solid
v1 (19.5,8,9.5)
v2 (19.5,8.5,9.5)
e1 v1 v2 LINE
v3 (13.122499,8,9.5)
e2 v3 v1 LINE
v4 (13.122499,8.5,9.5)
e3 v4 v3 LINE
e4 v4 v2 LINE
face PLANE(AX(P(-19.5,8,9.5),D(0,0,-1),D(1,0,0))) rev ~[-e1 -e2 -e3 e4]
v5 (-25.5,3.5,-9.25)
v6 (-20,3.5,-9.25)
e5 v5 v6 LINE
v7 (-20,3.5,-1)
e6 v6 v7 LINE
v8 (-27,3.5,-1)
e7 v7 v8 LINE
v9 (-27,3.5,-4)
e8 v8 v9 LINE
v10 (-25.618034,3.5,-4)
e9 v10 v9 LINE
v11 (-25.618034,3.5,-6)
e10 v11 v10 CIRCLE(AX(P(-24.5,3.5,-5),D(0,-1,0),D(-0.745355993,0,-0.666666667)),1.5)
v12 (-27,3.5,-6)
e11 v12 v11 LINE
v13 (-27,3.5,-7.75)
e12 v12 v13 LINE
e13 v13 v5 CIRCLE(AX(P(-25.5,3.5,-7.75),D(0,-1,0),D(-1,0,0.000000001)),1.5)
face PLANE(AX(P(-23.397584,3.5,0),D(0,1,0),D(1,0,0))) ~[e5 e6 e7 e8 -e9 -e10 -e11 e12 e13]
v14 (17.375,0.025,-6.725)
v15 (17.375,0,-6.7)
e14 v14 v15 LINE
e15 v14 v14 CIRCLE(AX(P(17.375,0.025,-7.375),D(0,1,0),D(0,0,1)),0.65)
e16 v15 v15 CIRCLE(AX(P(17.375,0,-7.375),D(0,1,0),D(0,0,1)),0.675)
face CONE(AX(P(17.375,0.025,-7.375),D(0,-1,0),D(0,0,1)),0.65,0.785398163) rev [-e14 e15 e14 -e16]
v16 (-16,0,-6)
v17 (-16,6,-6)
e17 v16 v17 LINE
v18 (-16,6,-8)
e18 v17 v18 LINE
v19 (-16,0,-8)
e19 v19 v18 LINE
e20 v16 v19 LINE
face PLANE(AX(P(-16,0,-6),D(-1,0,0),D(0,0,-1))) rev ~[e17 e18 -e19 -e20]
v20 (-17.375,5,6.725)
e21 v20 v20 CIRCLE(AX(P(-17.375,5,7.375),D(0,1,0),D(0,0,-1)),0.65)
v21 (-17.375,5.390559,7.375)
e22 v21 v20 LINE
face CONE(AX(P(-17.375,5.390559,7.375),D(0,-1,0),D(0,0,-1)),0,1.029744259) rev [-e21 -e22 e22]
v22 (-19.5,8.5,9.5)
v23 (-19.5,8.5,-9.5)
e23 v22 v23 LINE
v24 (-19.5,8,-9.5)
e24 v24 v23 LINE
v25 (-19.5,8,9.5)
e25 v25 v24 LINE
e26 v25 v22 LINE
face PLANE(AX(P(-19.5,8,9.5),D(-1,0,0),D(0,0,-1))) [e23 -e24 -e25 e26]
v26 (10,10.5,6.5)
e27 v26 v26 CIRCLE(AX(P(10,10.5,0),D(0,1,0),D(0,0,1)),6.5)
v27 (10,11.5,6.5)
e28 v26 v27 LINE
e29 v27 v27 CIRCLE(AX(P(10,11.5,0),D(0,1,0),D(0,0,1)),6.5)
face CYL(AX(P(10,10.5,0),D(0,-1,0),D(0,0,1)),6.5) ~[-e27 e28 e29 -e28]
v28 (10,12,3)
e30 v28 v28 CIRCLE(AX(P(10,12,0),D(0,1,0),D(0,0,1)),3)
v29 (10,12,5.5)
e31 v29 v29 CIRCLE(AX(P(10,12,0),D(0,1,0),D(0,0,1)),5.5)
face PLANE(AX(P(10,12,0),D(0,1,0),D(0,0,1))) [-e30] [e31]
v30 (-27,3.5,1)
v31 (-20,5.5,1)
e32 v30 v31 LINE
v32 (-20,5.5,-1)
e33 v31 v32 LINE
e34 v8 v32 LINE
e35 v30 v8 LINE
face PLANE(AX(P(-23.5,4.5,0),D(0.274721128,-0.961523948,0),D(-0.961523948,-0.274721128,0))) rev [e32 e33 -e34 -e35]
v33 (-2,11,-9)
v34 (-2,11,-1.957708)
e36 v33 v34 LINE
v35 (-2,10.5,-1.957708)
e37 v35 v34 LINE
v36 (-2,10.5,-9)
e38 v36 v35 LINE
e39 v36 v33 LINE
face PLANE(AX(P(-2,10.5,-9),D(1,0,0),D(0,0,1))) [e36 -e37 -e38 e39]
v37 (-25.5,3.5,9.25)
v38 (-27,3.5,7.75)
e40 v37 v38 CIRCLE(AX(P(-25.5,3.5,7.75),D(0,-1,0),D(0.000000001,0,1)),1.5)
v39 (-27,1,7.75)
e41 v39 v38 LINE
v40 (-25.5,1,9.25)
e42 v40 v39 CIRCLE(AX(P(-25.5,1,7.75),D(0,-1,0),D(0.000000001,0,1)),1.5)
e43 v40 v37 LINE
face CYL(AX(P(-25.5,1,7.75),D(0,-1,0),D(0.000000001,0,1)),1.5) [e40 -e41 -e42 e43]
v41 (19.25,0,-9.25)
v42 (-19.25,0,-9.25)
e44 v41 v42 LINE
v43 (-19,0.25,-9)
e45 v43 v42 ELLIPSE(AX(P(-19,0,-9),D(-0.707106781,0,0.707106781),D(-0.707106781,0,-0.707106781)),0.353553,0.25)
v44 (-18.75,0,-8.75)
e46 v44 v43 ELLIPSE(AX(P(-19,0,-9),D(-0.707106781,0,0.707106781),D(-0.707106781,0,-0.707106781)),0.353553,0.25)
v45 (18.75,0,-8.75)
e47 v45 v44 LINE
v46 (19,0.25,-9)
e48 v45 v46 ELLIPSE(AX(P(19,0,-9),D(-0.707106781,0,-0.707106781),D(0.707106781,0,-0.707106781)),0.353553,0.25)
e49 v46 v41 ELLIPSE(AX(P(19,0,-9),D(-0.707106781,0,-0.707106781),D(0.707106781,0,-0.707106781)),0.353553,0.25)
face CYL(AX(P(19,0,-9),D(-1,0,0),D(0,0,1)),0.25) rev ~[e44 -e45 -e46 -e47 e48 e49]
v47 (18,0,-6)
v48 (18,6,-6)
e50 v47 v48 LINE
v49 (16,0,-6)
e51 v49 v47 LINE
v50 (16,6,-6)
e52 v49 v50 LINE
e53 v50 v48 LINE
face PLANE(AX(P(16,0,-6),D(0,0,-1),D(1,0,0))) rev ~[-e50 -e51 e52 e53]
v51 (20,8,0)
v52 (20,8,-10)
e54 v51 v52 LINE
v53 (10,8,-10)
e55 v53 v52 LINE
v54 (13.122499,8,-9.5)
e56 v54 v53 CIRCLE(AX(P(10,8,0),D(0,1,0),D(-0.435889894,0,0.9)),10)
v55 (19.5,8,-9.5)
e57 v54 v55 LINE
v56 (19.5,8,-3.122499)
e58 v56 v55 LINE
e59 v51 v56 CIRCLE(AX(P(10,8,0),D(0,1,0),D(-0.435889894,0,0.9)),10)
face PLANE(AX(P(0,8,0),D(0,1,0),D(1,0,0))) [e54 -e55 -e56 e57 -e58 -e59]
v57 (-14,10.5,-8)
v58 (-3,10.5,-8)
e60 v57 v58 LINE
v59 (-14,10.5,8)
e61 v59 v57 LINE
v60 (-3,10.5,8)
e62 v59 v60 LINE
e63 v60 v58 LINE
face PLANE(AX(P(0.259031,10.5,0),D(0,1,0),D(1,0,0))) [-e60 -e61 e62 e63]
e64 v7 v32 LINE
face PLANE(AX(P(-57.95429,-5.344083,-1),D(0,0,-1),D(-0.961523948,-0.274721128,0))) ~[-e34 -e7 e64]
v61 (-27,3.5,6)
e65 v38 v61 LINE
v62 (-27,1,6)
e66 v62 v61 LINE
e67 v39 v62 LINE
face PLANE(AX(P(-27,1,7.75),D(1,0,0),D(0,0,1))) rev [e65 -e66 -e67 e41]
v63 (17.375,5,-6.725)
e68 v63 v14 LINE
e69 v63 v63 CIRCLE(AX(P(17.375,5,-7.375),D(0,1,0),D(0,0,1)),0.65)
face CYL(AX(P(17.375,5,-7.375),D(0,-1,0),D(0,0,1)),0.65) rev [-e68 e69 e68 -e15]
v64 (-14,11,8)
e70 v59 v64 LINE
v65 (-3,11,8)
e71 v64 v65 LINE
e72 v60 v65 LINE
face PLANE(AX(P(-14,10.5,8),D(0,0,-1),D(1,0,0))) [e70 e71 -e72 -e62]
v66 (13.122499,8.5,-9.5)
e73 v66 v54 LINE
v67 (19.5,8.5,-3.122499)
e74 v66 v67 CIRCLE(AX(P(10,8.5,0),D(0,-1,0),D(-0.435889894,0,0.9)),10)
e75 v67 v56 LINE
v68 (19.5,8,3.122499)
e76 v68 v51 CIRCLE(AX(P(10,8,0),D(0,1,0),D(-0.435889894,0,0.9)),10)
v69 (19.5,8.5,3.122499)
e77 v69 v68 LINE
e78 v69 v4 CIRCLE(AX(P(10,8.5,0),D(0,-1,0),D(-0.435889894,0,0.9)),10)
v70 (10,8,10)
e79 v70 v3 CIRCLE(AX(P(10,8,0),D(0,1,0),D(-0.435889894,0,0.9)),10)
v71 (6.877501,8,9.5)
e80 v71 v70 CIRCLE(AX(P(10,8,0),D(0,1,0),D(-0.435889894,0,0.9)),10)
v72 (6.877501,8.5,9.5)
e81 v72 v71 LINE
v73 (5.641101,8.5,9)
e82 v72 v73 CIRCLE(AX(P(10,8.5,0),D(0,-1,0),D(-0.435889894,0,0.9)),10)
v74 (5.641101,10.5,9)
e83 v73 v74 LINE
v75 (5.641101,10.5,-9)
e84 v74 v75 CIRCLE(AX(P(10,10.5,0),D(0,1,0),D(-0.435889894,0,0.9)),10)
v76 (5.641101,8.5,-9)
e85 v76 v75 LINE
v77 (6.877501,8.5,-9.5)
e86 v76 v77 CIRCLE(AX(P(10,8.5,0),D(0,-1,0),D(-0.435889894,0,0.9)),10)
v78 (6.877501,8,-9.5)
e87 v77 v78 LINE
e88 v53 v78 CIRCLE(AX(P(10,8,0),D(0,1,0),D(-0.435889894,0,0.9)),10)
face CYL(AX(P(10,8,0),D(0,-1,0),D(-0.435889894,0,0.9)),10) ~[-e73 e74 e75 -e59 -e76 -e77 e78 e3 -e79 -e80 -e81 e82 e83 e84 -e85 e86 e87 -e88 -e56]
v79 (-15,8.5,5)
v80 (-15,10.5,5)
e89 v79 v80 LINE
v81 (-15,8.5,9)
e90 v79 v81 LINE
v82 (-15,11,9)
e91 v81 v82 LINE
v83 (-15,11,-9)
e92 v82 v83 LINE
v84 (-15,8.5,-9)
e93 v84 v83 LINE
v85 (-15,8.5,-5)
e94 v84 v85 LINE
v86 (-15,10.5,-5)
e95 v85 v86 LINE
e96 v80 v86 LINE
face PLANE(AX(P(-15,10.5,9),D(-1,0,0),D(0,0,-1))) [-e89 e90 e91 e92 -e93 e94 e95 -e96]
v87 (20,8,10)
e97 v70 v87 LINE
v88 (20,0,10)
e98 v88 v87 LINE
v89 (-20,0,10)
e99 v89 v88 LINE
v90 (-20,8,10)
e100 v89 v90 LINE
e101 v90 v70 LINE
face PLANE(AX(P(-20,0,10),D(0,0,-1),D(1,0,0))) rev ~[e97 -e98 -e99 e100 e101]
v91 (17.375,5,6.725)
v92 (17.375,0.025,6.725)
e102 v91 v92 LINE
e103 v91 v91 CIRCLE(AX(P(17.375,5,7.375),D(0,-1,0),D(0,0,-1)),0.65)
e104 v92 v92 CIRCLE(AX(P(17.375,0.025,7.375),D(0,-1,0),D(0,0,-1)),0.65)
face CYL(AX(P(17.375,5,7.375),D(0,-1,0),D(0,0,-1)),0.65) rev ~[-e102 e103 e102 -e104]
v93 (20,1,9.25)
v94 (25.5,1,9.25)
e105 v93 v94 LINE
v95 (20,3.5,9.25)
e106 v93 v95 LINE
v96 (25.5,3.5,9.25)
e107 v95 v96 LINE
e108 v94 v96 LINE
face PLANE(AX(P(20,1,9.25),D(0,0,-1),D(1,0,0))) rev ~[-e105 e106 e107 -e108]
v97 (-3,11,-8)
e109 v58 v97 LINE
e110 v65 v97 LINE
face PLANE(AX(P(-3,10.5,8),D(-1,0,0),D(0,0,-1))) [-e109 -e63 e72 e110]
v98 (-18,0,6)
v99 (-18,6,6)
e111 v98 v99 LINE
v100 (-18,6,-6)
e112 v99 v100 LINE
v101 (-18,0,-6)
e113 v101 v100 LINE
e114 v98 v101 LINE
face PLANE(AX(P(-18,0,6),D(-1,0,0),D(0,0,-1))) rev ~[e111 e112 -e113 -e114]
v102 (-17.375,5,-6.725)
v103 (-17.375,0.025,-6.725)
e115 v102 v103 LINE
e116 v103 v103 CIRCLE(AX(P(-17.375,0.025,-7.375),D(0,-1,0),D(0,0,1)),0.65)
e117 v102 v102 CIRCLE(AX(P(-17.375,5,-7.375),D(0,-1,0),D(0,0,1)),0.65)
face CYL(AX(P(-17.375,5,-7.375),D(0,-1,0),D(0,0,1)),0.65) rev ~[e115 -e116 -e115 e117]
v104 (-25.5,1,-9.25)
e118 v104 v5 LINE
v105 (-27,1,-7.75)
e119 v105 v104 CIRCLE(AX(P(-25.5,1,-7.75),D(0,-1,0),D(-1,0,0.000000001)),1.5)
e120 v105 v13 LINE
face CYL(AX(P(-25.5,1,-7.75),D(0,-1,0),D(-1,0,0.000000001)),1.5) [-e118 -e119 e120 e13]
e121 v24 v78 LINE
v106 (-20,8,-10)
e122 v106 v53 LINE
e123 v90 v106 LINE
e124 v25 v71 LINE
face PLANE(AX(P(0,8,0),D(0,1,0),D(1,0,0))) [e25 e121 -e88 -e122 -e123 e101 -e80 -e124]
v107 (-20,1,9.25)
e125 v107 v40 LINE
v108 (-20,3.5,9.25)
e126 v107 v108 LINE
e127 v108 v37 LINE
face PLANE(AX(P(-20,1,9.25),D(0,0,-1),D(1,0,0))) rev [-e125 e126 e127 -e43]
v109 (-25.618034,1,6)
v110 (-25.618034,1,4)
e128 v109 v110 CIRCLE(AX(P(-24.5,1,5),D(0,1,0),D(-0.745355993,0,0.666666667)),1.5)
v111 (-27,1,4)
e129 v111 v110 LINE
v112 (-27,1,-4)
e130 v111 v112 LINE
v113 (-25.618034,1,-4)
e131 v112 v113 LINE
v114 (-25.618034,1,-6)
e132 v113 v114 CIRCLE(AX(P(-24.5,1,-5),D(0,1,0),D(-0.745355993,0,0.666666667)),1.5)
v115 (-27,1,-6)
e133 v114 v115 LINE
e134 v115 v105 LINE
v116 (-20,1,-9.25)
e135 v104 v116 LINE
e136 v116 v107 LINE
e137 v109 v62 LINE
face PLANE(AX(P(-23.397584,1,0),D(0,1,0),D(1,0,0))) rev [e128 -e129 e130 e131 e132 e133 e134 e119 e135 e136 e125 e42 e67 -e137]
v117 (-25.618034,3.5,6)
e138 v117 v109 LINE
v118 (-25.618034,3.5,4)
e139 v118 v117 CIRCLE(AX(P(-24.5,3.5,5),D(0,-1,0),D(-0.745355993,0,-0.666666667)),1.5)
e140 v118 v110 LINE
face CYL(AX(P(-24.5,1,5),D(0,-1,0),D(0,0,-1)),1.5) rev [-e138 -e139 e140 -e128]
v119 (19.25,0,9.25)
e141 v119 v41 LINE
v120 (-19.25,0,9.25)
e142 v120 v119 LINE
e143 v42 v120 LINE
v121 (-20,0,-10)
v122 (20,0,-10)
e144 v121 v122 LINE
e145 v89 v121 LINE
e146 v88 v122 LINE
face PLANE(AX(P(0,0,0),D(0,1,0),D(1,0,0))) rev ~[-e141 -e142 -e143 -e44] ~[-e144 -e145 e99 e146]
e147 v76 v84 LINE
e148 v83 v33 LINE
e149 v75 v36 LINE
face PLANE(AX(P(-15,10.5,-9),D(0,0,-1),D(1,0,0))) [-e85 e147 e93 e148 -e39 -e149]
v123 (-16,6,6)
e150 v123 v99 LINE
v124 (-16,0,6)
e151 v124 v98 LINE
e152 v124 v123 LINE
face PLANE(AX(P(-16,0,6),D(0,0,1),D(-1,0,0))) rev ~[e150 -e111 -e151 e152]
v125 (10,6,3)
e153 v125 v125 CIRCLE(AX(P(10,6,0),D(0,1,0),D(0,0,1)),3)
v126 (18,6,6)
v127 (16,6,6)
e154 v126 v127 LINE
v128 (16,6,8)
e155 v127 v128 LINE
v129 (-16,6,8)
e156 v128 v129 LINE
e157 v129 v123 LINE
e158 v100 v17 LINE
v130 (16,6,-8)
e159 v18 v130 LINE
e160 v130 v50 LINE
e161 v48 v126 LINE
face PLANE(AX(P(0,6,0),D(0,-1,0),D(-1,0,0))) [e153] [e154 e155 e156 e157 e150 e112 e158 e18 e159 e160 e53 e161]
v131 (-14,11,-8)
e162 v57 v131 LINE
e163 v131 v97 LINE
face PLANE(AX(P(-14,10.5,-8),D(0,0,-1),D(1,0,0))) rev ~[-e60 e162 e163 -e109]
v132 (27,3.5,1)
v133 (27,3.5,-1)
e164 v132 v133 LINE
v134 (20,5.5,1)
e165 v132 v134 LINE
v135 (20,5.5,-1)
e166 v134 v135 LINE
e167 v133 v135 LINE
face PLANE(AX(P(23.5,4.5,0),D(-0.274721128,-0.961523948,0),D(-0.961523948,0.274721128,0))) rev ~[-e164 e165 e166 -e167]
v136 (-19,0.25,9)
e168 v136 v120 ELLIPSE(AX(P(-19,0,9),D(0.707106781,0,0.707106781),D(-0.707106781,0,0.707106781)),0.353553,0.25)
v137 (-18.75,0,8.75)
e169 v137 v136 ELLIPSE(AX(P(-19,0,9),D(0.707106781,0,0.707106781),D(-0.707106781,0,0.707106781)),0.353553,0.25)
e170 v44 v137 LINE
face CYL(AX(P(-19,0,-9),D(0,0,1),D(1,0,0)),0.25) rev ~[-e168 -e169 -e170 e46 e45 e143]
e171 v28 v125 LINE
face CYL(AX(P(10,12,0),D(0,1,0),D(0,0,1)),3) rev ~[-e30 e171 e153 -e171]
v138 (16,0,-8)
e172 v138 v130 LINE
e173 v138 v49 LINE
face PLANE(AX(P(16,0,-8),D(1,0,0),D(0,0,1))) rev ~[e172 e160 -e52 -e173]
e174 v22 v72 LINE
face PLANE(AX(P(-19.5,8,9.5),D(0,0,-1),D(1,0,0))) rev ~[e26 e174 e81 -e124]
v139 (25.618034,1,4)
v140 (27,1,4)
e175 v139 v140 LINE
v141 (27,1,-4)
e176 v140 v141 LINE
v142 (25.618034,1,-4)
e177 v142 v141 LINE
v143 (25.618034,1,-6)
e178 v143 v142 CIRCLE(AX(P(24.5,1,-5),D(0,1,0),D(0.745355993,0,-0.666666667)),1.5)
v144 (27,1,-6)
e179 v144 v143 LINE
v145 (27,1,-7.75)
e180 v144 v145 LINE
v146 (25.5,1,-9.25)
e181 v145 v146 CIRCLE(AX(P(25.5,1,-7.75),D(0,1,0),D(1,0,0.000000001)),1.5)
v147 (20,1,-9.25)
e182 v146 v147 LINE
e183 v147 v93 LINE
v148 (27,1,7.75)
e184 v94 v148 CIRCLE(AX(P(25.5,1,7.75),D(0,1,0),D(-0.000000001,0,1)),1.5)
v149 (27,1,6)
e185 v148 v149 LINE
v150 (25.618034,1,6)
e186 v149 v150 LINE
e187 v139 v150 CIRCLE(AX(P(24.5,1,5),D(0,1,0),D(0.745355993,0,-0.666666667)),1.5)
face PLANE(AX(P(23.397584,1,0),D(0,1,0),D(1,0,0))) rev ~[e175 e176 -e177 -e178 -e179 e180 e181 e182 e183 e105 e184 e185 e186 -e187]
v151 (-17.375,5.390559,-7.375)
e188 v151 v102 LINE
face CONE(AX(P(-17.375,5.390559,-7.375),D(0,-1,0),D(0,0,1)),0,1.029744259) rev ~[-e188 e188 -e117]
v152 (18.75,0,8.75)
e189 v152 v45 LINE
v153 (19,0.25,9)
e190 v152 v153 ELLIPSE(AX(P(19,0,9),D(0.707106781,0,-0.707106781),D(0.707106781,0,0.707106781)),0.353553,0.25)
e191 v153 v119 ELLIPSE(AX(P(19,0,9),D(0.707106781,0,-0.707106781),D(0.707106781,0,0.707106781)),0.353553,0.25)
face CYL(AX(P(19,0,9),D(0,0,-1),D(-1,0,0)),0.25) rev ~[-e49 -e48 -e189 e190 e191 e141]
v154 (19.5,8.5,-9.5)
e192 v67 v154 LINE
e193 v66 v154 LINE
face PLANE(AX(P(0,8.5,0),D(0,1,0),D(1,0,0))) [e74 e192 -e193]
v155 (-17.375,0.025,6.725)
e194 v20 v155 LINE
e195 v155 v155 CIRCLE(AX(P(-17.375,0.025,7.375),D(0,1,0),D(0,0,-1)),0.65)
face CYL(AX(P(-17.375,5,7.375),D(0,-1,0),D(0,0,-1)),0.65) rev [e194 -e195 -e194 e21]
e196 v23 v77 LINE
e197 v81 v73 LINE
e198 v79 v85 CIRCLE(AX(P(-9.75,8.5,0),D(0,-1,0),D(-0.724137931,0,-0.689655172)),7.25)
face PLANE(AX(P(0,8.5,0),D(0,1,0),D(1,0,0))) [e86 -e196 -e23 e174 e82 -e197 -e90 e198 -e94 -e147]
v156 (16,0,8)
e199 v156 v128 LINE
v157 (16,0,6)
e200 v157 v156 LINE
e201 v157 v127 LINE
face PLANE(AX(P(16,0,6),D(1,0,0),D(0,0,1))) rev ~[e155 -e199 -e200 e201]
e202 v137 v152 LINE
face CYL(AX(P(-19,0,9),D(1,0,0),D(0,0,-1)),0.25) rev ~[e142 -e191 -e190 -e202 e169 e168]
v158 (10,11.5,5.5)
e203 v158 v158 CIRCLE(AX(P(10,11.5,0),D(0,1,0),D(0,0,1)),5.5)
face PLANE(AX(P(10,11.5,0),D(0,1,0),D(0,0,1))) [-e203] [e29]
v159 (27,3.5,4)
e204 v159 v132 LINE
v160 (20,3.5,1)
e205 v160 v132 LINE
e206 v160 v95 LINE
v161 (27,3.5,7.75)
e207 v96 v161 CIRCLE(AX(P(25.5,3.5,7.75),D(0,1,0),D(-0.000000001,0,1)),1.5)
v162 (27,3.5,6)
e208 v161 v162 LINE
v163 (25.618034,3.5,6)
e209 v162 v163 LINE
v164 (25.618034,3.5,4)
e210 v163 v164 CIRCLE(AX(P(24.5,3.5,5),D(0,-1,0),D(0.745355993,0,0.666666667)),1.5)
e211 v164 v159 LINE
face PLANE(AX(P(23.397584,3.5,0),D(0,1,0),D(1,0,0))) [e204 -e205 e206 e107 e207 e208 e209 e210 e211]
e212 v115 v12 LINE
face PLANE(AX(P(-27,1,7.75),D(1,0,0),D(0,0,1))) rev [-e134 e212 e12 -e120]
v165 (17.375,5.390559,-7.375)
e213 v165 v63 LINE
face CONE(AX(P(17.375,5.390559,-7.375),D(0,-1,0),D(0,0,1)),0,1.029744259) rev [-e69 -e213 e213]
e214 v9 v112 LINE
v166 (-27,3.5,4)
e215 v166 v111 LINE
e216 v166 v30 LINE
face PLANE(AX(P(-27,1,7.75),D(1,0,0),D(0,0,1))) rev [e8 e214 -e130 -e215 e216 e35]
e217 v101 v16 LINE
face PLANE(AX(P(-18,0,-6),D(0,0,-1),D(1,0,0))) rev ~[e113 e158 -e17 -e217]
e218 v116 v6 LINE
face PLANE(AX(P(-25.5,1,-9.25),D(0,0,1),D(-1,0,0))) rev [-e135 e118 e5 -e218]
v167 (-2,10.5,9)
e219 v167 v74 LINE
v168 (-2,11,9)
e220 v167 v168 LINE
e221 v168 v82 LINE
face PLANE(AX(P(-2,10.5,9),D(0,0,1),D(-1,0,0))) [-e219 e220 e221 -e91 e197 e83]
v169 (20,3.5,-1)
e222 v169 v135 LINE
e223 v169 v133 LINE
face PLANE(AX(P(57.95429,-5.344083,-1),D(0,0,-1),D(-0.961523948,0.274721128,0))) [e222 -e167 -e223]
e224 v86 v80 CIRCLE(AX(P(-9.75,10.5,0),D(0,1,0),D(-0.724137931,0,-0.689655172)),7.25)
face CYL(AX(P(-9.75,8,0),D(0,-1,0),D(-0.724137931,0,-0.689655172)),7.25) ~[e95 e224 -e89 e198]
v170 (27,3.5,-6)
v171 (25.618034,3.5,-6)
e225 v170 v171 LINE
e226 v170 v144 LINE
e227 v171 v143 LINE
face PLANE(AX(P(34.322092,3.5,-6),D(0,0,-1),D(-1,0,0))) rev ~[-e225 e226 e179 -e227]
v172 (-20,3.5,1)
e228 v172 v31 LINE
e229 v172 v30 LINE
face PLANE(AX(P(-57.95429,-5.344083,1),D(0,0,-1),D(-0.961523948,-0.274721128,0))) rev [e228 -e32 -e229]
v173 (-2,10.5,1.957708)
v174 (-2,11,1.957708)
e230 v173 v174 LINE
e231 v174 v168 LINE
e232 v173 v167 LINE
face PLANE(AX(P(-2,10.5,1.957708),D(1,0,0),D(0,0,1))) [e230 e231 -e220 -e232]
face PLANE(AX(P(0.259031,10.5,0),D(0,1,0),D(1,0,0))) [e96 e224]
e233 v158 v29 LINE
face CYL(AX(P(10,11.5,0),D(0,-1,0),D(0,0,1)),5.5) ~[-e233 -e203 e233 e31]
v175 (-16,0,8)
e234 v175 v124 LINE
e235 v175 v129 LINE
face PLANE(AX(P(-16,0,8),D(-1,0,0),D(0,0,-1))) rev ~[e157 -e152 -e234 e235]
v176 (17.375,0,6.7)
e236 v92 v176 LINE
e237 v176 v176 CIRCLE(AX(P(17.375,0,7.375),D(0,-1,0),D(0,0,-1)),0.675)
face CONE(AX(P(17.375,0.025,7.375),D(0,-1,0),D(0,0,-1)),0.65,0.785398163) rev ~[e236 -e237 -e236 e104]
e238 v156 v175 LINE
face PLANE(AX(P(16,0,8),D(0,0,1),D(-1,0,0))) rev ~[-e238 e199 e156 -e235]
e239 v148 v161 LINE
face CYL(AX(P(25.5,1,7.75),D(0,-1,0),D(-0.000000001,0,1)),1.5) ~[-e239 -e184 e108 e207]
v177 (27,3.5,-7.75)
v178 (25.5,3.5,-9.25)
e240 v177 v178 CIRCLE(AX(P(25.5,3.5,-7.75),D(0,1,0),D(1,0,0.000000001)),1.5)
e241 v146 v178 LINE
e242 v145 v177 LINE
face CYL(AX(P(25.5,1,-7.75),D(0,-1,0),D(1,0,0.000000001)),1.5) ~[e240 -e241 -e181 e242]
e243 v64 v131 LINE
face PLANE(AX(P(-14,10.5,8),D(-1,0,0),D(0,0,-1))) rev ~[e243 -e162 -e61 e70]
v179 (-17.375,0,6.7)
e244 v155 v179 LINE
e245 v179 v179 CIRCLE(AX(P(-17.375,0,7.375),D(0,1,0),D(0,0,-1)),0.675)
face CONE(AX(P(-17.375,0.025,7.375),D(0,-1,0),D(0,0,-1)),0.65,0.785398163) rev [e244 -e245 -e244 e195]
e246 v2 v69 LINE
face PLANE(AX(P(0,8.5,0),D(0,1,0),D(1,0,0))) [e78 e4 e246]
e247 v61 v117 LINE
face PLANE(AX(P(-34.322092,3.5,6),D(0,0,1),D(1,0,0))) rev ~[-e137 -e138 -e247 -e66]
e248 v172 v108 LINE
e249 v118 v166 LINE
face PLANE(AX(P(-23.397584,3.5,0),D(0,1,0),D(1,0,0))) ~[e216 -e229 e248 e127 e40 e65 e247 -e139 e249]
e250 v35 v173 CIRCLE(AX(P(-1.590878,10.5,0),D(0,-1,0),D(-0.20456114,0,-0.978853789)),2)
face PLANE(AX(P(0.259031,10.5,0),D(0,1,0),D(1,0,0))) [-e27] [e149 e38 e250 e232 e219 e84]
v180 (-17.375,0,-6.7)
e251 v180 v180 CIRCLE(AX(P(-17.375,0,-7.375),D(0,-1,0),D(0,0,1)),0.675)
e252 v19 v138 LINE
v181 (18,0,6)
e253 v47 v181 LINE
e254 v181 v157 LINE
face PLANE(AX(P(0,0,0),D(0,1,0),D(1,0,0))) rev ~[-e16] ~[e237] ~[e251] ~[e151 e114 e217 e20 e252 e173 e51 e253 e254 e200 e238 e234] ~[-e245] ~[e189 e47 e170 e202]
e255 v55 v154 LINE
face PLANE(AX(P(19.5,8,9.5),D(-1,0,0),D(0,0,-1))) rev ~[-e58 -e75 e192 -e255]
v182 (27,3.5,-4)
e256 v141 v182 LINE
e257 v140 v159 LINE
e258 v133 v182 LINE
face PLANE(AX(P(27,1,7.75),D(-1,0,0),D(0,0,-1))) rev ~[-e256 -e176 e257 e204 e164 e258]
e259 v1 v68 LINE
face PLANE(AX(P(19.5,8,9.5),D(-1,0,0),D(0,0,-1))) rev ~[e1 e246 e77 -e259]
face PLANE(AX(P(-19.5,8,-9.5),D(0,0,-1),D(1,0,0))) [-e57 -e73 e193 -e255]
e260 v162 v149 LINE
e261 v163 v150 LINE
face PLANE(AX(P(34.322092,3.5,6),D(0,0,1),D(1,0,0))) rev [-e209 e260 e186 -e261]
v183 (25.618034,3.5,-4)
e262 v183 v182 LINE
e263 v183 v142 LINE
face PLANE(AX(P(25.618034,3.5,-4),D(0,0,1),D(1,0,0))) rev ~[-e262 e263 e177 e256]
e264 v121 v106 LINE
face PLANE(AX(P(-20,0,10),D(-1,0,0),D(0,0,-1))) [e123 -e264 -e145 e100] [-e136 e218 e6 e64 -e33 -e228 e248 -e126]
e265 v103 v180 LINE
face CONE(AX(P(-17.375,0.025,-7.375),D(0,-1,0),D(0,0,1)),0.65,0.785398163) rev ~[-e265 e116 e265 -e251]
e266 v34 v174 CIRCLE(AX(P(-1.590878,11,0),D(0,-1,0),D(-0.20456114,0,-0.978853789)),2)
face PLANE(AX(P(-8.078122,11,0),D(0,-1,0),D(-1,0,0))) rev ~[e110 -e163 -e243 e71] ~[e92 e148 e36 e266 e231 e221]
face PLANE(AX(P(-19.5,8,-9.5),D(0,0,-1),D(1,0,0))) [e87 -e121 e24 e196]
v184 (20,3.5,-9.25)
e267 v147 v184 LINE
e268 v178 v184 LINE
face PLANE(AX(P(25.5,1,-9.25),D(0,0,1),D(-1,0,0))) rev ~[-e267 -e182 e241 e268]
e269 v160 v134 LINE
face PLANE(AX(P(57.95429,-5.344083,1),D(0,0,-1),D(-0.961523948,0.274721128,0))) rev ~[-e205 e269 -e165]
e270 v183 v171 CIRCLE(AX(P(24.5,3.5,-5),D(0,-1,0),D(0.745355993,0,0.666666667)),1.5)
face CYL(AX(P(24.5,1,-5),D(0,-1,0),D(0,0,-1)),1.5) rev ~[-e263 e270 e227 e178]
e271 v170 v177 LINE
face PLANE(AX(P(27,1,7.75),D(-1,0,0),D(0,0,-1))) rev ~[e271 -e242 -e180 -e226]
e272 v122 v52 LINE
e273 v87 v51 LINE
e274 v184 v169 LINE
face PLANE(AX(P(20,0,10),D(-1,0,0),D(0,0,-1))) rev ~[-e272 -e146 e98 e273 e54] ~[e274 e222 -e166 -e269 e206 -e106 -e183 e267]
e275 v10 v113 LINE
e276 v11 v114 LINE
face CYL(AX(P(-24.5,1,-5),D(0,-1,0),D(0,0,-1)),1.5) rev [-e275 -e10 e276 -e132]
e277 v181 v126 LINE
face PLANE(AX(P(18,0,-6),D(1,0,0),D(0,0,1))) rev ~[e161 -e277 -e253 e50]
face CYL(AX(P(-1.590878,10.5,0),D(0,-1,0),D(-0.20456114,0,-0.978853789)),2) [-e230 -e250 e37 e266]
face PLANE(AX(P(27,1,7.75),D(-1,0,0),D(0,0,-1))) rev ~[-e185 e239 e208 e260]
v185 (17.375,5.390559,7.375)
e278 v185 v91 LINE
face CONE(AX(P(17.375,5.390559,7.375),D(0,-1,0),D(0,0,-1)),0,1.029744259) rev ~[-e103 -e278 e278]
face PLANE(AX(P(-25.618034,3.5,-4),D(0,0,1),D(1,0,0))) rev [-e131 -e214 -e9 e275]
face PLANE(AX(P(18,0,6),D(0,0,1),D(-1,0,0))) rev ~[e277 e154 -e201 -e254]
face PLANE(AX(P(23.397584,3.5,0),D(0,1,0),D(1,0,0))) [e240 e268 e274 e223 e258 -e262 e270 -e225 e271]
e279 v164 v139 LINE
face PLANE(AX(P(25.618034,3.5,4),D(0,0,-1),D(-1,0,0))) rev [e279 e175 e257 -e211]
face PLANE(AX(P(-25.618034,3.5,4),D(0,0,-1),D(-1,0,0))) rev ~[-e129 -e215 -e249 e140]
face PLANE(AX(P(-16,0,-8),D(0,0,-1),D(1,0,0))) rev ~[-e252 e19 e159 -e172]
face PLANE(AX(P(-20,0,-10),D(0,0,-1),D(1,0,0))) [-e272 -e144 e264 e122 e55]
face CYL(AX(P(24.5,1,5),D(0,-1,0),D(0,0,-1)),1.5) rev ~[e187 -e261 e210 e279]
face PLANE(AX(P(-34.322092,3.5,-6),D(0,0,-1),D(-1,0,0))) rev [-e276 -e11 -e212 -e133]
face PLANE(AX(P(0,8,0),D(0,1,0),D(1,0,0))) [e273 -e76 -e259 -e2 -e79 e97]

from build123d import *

# Parameters (mm, degrees)
SCHIZZO1_W                   = 40
SCHIZZO1_H                   = 20
ESTRUSIONE_ESTRUSIONE2_DEPTH = 8
TAGLIO_ESTRUSIONE4_DEPTH     = 6
ESTRUSIONE_ESTRUSIONE4_DEPTH = 2.5
SCHIZZO7_W                   = 39
SCHIZZO7_H                   = 19
ESTRUSIONE_ESTRUSIONE3_DEPTH = 0.5
SCHIZZO8_W                   = 11
SCHIZZO8_H                   = 16
ESTRUSIONE_ESTRUSIONE5_DEPTH = 0.5
SCHIZZO9_R                   = 6.5
ESTRUSIONE_ESTRUSIONE6_DEPTH = 1
SCHIZZO10_R                  = 5.5
ESTRUSIONE_ESTRUSIONE7_DEPTH = 0.5
SCHIZZO11_R                  = 3
TAGLIO_ESTRUSIONE5_DEPTH     = 26.377155081
SCHIZZO12_R                  = 1.5
ESTRUSIONE_ESTRUSIONE8_DEPTH = 2.5
TAGLIO_ESTRUSIONE6_DEPTH     = 31.020826105
SPECCHIA4_COPY_1_DEPTH       = 31.020826105
NERVATURA1_REACH             = 33.193
SCHIZZO16_WALL_W             = 71.666005732
SCHIZZO16_WALL_H             = 2


with BuildPart() as part:
    # Schizzo1 → Estrusione-Estrusione2 (new body)
    with BuildSketch(Plane(origin=(0, 0, 0), x_dir=(1, 0, 0), z_dir=(0, 1, 0))):
        Rectangle(SCHIZZO1_W, SCHIZZO1_H)
    extrude(amount=ESTRUSIONE_ESTRUSIONE2_DEPTH)

    # Schizzo2 → Taglio-Estrusione4 (cut)
    with BuildSketch(Plane(origin=(0, 0, 0), x_dir=(1, 0, 0), z_dir=(0, 1, 0))):
        Polygon((16, -8), (-16, -8), (-16, -6), (-18, -6), (-18, 6), (-16, 6), (-16, 8), (16, 8), (16, 6), (18, 6), (18, -6), (16, -6), align=None)
    extrude(amount=TAGLIO_ESTRUSIONE4_DEPTH, mode=Mode.SUBTRACT)

    # Schizzo3 → Foro per Vite M1-1 (revolve, cut)
    with BuildSketch(Plane(origin=(-17.375, 0, 7.375), x_dir=(0, 0, -1), z_dir=(1, 0, 0))):
        Polygon((0, 0), (0, 5.390559402), (0.65, 5), (0.65, 0.025), (0.675, 0), align=None)
    foro_per_vite_m1_1 = revolve(axis=Axis((-17.375, -6.35, 7.375), (0, 1, 0)), mode=Mode.SUBTRACT)

    # Specchia1: Foro per Vite M1-1 across plane
    add(foro_per_vite_m1_1.mirror(Plane(origin=(0, 0, 0), x_dir=(0, 0, 1), z_dir=(1, 0, 0))), mode=Mode.SUBTRACT)

    # Specchia2 copy 1 sketch → Specchia2 copy 1 (revolve, cut)
    with BuildSketch(Plane(origin=(17.375, 0, -7.375), x_dir=(0, 0, 1), z_dir=(-1, 0, 0))):
        Polygon((0, 0), (0, 5.390559402), (0.65, 5), (0.65, 0.025), (0.675, 0), align=None)
    revolve(axis=Axis((17.375, -6.35, -7.375), (0, 1, 0)), mode=Mode.SUBTRACT)

    # Specchia2 copy 2 sketch → Specchia2 copy 2 (revolve, cut)
    with BuildSketch(Plane(origin=(-17.375, 0, -7.375), x_dir=(0, 0, 1), z_dir=(1, 0, 0))):
        Polygon((0, 0), (0, -5.390559402), (0.65, -5), (0.65, -0.025), (0.675, 0), align=None)
    revolve(axis=Axis((-17.375, -6.35, -7.375), (0, -1, 0)), mode=Mode.SUBTRACT)

    # Taglia-Sweep3: sweep along a path in Schizzo5
    with BuildLine(Plane.XZ) as taglia_sweep3_path:
        Line((19, -9), (-19, -9))
        Line((-19, -9), (-19, 9))
        Line((-19, 9), (19, 9))
        Line((19, 9), (19, -9))
    # Schizzo4 → Taglia-Sweep3 (sweep, cut)
    with BuildSketch(Plane.XY):
        with BuildLine():
            Line((-19.25, 0), (-18.75, 0))
            ThreePointArc((-18.75, 0), (-19, 0.25), (-19.25, 0))
        make_face()
    sweep(path=taglia_sweep3_path.line, transition=Transition.RIGHT, mode=Mode.SUBTRACT)

    # Schizzo6 → Estrusione-Estrusione4 (add)
    with BuildSketch(Plane(origin=(0, 8, 0), x_dir=(1, 0, 0), z_dir=(0, 1, 0))):
        with BuildLine():
            Line((5.641101056, 9), (-15, 9))
            Line((-15, 9), (-15, 5))
            ThreePointArc((-15, 5), (-17, 0), (-15, -5))
            Line((-15, -5), (-15, -9))
            Line((-15, -9), (5.641101056, -9))
            ThreePointArc((5.641101056, -9), (20, 0), (5.641101056, 9))
        make_face()
    extrude(amount=ESTRUSIONE_ESTRUSIONE4_DEPTH)

    # Schizzo7 → Estrusione-Estrusione3 (add)
    with BuildSketch(Plane(origin=(0, 8, 0), x_dir=(1, 0, 0), z_dir=(0, 1, 0))):
        Rectangle(SCHIZZO7_W, SCHIZZO7_H)
    extrude(amount=ESTRUSIONE_ESTRUSIONE3_DEPTH)

    # Schizzo8 → Estrusione-Estrusione5 (add)
    with BuildSketch(Plane(origin=(0, 10.5, 0), x_dir=(1, 0, 0), z_dir=(0, 1, 0))):
        with BuildLine():
            Line((-15, 9), (-2, 9))
            Line((-2, 9), (-2, 1.957707578))
            ThreePointArc((-2, 1.957707578), (0.409122281, 0), (-2, -1.957707578))
            Line((-2, -1.957707578), (-2, -9))
            Line((-2, -9), (-15, -9))
            Line((-15, -9), (-15, 9))
        make_face()
        with Locations((-8.5, 0)):
            Rectangle(SCHIZZO8_W, SCHIZZO8_H, mode=Mode.SUBTRACT)
    extrude(amount=ESTRUSIONE_ESTRUSIONE5_DEPTH)

    # Schizzo9 → Estrusione-Estrusione6 (add)
    with BuildSketch(Plane(origin=(0, 10.5, 0), x_dir=(1, 0, 0), z_dir=(0, 1, 0))):
        with Locations((10, 0)):
            Circle(SCHIZZO9_R)
    extrude(amount=ESTRUSIONE_ESTRUSIONE6_DEPTH)

    # Schizzo10 → Estrusione-Estrusione7 (add)
    with BuildSketch(Plane(origin=(0, 11.5, 0), x_dir=(1, 0, 0), z_dir=(0, 1, 0))):
        with Locations((10, 0)):
            Circle(SCHIZZO10_R)
    extrude(amount=ESTRUSIONE_ESTRUSIONE7_DEPTH)

    # Schizzo11 → Taglio-Estrusione5 (cut, through all)
    with BuildSketch(Plane(origin=(0, 12, 0), x_dir=(1, 0, 0), z_dir=(0, 1, 0))):
        with Locations((10, 0)):
            Circle(SCHIZZO11_R)
    extrude(amount=-TAGLIO_ESTRUSIONE5_DEPTH, mode=Mode.SUBTRACT)

    # Schizzo12 → Estrusione-Estrusione8 (add)
    with BuildSketch(Plane(origin=(0, 1, 0), x_dir=(-1, 0, 0), z_dir=(0, -1, 0))):
        with BuildLine():
            Line((-25.5, 9.25), (-20, 9.25))
            Line((-20, 9.25), (-20, -9.25))
            Line((-20, -9.25), (-25.5, -9.25))
            ThreePointArc((-25.5, -9.25), (-26.560660172, -8.810660172), (-27, -7.75))
            Line((-27, -7.75), (-27, 7.75))
            ThreePointArc((-27, 7.75), (-26.560660172, 8.810660172), (-25.5, 9.25))
        make_face()
        with Locations((-24.5, 5)):
            Circle(SCHIZZO12_R, mode=Mode.SUBTRACT)
        with Locations((-24.5, -5)):
            Circle(SCHIZZO12_R, mode=Mode.SUBTRACT)
    estrusione_estrusione8 = extrude(amount=-ESTRUSIONE_ESTRUSIONE8_DEPTH)

    # Schizzo13 → Taglio-Estrusione6 (cut, through all)
    with BuildSketch(Plane(origin=(0, 3.5, 0), x_dir=(1, 0, 0), z_dir=(0, 1, 0))):
        with BuildLine():
            Line((25.618033989, 4), (34.322091749, 4))
            Line((34.322091749, 4), (34.322091749, 6))
            Line((34.322091749, 6), (25.618033989, 6))
            ThreePointArc((25.618033989, 6), (26, 5), (25.618033989, 4))
        make_face()
    taglio_estrusione6 = extrude(amount=-TAGLIO_ESTRUSIONE6_DEPTH, mode=Mode.SUBTRACT)

    # Specchia3: Taglio-Estrusione6 across plane
    add(taglio_estrusione6.mirror(Plane.XY), mode=Mode.SUBTRACT)

    # Specchia4: Estrusione-Estrusione8, Taglio-Estrusione6 across plane
    add(estrusione_estrusione8.mirror(Plane(origin=(0, 0, 0), x_dir=(0, 0, 1), z_dir=(1, 0, 0))))
    add(taglio_estrusione6.mirror(Plane(origin=(0, 0, 0), x_dir=(0, 0, 1), z_dir=(1, 0, 0))), mode=Mode.SUBTRACT)

    # Specchia4 copy 1 sketch → Specchia4 copy 1 (cut, through all)
    with BuildSketch(Plane(origin=(0, 3.5, 0), x_dir=(-1, 0, 0), z_dir=(0, 1, 0))):
        with BuildLine():
            Line((25.618033989, 4), (34.322091749, 4))
            Line((34.322091749, 4), (34.322091749, 6))
            Line((34.322091749, 6), (25.618033989, 6))
            ThreePointArc((25.618033989, 6), (26, 5), (25.618033989, 4))
        make_face()
    extrude(amount=-SPECCHIA4_COPY_1_DEPTH, mode=Mode.SUBTRACT)

    # Schizzo16 wall → Nervatura1 (add, up to next)
    with BuildSketch(Plane(origin=(23.5, 4.5, 0), x_dir=(-0.961523947641, 0.274721127897, 0), z_dir=(-0.274721127897, -0.961523947641, 0)), mode=Mode.PRIVATE) as nervatura1_sk1:
        Rectangle(SCHIZZO16_WALL_W, SCHIZZO16_WALL_H)
    nervatura1_tool1 = extrude(nervatura1_sk1.sketch, amount=NERVATURA1_REACH, mode=Mode.PRIVATE) - part.part
    nervatura1 = nervatura1_tool1.solids().sort_by_distance((23.5, 4.5, 0))[0]
    add(nervatura1)

    # Specchia5: Nervatura1 across plane
    add(nervatura1.mirror(Plane(origin=(0, 0, 0), x_dir=(0, 0, 1), z_dir=(1, 0, 0))))


solid = part.part
